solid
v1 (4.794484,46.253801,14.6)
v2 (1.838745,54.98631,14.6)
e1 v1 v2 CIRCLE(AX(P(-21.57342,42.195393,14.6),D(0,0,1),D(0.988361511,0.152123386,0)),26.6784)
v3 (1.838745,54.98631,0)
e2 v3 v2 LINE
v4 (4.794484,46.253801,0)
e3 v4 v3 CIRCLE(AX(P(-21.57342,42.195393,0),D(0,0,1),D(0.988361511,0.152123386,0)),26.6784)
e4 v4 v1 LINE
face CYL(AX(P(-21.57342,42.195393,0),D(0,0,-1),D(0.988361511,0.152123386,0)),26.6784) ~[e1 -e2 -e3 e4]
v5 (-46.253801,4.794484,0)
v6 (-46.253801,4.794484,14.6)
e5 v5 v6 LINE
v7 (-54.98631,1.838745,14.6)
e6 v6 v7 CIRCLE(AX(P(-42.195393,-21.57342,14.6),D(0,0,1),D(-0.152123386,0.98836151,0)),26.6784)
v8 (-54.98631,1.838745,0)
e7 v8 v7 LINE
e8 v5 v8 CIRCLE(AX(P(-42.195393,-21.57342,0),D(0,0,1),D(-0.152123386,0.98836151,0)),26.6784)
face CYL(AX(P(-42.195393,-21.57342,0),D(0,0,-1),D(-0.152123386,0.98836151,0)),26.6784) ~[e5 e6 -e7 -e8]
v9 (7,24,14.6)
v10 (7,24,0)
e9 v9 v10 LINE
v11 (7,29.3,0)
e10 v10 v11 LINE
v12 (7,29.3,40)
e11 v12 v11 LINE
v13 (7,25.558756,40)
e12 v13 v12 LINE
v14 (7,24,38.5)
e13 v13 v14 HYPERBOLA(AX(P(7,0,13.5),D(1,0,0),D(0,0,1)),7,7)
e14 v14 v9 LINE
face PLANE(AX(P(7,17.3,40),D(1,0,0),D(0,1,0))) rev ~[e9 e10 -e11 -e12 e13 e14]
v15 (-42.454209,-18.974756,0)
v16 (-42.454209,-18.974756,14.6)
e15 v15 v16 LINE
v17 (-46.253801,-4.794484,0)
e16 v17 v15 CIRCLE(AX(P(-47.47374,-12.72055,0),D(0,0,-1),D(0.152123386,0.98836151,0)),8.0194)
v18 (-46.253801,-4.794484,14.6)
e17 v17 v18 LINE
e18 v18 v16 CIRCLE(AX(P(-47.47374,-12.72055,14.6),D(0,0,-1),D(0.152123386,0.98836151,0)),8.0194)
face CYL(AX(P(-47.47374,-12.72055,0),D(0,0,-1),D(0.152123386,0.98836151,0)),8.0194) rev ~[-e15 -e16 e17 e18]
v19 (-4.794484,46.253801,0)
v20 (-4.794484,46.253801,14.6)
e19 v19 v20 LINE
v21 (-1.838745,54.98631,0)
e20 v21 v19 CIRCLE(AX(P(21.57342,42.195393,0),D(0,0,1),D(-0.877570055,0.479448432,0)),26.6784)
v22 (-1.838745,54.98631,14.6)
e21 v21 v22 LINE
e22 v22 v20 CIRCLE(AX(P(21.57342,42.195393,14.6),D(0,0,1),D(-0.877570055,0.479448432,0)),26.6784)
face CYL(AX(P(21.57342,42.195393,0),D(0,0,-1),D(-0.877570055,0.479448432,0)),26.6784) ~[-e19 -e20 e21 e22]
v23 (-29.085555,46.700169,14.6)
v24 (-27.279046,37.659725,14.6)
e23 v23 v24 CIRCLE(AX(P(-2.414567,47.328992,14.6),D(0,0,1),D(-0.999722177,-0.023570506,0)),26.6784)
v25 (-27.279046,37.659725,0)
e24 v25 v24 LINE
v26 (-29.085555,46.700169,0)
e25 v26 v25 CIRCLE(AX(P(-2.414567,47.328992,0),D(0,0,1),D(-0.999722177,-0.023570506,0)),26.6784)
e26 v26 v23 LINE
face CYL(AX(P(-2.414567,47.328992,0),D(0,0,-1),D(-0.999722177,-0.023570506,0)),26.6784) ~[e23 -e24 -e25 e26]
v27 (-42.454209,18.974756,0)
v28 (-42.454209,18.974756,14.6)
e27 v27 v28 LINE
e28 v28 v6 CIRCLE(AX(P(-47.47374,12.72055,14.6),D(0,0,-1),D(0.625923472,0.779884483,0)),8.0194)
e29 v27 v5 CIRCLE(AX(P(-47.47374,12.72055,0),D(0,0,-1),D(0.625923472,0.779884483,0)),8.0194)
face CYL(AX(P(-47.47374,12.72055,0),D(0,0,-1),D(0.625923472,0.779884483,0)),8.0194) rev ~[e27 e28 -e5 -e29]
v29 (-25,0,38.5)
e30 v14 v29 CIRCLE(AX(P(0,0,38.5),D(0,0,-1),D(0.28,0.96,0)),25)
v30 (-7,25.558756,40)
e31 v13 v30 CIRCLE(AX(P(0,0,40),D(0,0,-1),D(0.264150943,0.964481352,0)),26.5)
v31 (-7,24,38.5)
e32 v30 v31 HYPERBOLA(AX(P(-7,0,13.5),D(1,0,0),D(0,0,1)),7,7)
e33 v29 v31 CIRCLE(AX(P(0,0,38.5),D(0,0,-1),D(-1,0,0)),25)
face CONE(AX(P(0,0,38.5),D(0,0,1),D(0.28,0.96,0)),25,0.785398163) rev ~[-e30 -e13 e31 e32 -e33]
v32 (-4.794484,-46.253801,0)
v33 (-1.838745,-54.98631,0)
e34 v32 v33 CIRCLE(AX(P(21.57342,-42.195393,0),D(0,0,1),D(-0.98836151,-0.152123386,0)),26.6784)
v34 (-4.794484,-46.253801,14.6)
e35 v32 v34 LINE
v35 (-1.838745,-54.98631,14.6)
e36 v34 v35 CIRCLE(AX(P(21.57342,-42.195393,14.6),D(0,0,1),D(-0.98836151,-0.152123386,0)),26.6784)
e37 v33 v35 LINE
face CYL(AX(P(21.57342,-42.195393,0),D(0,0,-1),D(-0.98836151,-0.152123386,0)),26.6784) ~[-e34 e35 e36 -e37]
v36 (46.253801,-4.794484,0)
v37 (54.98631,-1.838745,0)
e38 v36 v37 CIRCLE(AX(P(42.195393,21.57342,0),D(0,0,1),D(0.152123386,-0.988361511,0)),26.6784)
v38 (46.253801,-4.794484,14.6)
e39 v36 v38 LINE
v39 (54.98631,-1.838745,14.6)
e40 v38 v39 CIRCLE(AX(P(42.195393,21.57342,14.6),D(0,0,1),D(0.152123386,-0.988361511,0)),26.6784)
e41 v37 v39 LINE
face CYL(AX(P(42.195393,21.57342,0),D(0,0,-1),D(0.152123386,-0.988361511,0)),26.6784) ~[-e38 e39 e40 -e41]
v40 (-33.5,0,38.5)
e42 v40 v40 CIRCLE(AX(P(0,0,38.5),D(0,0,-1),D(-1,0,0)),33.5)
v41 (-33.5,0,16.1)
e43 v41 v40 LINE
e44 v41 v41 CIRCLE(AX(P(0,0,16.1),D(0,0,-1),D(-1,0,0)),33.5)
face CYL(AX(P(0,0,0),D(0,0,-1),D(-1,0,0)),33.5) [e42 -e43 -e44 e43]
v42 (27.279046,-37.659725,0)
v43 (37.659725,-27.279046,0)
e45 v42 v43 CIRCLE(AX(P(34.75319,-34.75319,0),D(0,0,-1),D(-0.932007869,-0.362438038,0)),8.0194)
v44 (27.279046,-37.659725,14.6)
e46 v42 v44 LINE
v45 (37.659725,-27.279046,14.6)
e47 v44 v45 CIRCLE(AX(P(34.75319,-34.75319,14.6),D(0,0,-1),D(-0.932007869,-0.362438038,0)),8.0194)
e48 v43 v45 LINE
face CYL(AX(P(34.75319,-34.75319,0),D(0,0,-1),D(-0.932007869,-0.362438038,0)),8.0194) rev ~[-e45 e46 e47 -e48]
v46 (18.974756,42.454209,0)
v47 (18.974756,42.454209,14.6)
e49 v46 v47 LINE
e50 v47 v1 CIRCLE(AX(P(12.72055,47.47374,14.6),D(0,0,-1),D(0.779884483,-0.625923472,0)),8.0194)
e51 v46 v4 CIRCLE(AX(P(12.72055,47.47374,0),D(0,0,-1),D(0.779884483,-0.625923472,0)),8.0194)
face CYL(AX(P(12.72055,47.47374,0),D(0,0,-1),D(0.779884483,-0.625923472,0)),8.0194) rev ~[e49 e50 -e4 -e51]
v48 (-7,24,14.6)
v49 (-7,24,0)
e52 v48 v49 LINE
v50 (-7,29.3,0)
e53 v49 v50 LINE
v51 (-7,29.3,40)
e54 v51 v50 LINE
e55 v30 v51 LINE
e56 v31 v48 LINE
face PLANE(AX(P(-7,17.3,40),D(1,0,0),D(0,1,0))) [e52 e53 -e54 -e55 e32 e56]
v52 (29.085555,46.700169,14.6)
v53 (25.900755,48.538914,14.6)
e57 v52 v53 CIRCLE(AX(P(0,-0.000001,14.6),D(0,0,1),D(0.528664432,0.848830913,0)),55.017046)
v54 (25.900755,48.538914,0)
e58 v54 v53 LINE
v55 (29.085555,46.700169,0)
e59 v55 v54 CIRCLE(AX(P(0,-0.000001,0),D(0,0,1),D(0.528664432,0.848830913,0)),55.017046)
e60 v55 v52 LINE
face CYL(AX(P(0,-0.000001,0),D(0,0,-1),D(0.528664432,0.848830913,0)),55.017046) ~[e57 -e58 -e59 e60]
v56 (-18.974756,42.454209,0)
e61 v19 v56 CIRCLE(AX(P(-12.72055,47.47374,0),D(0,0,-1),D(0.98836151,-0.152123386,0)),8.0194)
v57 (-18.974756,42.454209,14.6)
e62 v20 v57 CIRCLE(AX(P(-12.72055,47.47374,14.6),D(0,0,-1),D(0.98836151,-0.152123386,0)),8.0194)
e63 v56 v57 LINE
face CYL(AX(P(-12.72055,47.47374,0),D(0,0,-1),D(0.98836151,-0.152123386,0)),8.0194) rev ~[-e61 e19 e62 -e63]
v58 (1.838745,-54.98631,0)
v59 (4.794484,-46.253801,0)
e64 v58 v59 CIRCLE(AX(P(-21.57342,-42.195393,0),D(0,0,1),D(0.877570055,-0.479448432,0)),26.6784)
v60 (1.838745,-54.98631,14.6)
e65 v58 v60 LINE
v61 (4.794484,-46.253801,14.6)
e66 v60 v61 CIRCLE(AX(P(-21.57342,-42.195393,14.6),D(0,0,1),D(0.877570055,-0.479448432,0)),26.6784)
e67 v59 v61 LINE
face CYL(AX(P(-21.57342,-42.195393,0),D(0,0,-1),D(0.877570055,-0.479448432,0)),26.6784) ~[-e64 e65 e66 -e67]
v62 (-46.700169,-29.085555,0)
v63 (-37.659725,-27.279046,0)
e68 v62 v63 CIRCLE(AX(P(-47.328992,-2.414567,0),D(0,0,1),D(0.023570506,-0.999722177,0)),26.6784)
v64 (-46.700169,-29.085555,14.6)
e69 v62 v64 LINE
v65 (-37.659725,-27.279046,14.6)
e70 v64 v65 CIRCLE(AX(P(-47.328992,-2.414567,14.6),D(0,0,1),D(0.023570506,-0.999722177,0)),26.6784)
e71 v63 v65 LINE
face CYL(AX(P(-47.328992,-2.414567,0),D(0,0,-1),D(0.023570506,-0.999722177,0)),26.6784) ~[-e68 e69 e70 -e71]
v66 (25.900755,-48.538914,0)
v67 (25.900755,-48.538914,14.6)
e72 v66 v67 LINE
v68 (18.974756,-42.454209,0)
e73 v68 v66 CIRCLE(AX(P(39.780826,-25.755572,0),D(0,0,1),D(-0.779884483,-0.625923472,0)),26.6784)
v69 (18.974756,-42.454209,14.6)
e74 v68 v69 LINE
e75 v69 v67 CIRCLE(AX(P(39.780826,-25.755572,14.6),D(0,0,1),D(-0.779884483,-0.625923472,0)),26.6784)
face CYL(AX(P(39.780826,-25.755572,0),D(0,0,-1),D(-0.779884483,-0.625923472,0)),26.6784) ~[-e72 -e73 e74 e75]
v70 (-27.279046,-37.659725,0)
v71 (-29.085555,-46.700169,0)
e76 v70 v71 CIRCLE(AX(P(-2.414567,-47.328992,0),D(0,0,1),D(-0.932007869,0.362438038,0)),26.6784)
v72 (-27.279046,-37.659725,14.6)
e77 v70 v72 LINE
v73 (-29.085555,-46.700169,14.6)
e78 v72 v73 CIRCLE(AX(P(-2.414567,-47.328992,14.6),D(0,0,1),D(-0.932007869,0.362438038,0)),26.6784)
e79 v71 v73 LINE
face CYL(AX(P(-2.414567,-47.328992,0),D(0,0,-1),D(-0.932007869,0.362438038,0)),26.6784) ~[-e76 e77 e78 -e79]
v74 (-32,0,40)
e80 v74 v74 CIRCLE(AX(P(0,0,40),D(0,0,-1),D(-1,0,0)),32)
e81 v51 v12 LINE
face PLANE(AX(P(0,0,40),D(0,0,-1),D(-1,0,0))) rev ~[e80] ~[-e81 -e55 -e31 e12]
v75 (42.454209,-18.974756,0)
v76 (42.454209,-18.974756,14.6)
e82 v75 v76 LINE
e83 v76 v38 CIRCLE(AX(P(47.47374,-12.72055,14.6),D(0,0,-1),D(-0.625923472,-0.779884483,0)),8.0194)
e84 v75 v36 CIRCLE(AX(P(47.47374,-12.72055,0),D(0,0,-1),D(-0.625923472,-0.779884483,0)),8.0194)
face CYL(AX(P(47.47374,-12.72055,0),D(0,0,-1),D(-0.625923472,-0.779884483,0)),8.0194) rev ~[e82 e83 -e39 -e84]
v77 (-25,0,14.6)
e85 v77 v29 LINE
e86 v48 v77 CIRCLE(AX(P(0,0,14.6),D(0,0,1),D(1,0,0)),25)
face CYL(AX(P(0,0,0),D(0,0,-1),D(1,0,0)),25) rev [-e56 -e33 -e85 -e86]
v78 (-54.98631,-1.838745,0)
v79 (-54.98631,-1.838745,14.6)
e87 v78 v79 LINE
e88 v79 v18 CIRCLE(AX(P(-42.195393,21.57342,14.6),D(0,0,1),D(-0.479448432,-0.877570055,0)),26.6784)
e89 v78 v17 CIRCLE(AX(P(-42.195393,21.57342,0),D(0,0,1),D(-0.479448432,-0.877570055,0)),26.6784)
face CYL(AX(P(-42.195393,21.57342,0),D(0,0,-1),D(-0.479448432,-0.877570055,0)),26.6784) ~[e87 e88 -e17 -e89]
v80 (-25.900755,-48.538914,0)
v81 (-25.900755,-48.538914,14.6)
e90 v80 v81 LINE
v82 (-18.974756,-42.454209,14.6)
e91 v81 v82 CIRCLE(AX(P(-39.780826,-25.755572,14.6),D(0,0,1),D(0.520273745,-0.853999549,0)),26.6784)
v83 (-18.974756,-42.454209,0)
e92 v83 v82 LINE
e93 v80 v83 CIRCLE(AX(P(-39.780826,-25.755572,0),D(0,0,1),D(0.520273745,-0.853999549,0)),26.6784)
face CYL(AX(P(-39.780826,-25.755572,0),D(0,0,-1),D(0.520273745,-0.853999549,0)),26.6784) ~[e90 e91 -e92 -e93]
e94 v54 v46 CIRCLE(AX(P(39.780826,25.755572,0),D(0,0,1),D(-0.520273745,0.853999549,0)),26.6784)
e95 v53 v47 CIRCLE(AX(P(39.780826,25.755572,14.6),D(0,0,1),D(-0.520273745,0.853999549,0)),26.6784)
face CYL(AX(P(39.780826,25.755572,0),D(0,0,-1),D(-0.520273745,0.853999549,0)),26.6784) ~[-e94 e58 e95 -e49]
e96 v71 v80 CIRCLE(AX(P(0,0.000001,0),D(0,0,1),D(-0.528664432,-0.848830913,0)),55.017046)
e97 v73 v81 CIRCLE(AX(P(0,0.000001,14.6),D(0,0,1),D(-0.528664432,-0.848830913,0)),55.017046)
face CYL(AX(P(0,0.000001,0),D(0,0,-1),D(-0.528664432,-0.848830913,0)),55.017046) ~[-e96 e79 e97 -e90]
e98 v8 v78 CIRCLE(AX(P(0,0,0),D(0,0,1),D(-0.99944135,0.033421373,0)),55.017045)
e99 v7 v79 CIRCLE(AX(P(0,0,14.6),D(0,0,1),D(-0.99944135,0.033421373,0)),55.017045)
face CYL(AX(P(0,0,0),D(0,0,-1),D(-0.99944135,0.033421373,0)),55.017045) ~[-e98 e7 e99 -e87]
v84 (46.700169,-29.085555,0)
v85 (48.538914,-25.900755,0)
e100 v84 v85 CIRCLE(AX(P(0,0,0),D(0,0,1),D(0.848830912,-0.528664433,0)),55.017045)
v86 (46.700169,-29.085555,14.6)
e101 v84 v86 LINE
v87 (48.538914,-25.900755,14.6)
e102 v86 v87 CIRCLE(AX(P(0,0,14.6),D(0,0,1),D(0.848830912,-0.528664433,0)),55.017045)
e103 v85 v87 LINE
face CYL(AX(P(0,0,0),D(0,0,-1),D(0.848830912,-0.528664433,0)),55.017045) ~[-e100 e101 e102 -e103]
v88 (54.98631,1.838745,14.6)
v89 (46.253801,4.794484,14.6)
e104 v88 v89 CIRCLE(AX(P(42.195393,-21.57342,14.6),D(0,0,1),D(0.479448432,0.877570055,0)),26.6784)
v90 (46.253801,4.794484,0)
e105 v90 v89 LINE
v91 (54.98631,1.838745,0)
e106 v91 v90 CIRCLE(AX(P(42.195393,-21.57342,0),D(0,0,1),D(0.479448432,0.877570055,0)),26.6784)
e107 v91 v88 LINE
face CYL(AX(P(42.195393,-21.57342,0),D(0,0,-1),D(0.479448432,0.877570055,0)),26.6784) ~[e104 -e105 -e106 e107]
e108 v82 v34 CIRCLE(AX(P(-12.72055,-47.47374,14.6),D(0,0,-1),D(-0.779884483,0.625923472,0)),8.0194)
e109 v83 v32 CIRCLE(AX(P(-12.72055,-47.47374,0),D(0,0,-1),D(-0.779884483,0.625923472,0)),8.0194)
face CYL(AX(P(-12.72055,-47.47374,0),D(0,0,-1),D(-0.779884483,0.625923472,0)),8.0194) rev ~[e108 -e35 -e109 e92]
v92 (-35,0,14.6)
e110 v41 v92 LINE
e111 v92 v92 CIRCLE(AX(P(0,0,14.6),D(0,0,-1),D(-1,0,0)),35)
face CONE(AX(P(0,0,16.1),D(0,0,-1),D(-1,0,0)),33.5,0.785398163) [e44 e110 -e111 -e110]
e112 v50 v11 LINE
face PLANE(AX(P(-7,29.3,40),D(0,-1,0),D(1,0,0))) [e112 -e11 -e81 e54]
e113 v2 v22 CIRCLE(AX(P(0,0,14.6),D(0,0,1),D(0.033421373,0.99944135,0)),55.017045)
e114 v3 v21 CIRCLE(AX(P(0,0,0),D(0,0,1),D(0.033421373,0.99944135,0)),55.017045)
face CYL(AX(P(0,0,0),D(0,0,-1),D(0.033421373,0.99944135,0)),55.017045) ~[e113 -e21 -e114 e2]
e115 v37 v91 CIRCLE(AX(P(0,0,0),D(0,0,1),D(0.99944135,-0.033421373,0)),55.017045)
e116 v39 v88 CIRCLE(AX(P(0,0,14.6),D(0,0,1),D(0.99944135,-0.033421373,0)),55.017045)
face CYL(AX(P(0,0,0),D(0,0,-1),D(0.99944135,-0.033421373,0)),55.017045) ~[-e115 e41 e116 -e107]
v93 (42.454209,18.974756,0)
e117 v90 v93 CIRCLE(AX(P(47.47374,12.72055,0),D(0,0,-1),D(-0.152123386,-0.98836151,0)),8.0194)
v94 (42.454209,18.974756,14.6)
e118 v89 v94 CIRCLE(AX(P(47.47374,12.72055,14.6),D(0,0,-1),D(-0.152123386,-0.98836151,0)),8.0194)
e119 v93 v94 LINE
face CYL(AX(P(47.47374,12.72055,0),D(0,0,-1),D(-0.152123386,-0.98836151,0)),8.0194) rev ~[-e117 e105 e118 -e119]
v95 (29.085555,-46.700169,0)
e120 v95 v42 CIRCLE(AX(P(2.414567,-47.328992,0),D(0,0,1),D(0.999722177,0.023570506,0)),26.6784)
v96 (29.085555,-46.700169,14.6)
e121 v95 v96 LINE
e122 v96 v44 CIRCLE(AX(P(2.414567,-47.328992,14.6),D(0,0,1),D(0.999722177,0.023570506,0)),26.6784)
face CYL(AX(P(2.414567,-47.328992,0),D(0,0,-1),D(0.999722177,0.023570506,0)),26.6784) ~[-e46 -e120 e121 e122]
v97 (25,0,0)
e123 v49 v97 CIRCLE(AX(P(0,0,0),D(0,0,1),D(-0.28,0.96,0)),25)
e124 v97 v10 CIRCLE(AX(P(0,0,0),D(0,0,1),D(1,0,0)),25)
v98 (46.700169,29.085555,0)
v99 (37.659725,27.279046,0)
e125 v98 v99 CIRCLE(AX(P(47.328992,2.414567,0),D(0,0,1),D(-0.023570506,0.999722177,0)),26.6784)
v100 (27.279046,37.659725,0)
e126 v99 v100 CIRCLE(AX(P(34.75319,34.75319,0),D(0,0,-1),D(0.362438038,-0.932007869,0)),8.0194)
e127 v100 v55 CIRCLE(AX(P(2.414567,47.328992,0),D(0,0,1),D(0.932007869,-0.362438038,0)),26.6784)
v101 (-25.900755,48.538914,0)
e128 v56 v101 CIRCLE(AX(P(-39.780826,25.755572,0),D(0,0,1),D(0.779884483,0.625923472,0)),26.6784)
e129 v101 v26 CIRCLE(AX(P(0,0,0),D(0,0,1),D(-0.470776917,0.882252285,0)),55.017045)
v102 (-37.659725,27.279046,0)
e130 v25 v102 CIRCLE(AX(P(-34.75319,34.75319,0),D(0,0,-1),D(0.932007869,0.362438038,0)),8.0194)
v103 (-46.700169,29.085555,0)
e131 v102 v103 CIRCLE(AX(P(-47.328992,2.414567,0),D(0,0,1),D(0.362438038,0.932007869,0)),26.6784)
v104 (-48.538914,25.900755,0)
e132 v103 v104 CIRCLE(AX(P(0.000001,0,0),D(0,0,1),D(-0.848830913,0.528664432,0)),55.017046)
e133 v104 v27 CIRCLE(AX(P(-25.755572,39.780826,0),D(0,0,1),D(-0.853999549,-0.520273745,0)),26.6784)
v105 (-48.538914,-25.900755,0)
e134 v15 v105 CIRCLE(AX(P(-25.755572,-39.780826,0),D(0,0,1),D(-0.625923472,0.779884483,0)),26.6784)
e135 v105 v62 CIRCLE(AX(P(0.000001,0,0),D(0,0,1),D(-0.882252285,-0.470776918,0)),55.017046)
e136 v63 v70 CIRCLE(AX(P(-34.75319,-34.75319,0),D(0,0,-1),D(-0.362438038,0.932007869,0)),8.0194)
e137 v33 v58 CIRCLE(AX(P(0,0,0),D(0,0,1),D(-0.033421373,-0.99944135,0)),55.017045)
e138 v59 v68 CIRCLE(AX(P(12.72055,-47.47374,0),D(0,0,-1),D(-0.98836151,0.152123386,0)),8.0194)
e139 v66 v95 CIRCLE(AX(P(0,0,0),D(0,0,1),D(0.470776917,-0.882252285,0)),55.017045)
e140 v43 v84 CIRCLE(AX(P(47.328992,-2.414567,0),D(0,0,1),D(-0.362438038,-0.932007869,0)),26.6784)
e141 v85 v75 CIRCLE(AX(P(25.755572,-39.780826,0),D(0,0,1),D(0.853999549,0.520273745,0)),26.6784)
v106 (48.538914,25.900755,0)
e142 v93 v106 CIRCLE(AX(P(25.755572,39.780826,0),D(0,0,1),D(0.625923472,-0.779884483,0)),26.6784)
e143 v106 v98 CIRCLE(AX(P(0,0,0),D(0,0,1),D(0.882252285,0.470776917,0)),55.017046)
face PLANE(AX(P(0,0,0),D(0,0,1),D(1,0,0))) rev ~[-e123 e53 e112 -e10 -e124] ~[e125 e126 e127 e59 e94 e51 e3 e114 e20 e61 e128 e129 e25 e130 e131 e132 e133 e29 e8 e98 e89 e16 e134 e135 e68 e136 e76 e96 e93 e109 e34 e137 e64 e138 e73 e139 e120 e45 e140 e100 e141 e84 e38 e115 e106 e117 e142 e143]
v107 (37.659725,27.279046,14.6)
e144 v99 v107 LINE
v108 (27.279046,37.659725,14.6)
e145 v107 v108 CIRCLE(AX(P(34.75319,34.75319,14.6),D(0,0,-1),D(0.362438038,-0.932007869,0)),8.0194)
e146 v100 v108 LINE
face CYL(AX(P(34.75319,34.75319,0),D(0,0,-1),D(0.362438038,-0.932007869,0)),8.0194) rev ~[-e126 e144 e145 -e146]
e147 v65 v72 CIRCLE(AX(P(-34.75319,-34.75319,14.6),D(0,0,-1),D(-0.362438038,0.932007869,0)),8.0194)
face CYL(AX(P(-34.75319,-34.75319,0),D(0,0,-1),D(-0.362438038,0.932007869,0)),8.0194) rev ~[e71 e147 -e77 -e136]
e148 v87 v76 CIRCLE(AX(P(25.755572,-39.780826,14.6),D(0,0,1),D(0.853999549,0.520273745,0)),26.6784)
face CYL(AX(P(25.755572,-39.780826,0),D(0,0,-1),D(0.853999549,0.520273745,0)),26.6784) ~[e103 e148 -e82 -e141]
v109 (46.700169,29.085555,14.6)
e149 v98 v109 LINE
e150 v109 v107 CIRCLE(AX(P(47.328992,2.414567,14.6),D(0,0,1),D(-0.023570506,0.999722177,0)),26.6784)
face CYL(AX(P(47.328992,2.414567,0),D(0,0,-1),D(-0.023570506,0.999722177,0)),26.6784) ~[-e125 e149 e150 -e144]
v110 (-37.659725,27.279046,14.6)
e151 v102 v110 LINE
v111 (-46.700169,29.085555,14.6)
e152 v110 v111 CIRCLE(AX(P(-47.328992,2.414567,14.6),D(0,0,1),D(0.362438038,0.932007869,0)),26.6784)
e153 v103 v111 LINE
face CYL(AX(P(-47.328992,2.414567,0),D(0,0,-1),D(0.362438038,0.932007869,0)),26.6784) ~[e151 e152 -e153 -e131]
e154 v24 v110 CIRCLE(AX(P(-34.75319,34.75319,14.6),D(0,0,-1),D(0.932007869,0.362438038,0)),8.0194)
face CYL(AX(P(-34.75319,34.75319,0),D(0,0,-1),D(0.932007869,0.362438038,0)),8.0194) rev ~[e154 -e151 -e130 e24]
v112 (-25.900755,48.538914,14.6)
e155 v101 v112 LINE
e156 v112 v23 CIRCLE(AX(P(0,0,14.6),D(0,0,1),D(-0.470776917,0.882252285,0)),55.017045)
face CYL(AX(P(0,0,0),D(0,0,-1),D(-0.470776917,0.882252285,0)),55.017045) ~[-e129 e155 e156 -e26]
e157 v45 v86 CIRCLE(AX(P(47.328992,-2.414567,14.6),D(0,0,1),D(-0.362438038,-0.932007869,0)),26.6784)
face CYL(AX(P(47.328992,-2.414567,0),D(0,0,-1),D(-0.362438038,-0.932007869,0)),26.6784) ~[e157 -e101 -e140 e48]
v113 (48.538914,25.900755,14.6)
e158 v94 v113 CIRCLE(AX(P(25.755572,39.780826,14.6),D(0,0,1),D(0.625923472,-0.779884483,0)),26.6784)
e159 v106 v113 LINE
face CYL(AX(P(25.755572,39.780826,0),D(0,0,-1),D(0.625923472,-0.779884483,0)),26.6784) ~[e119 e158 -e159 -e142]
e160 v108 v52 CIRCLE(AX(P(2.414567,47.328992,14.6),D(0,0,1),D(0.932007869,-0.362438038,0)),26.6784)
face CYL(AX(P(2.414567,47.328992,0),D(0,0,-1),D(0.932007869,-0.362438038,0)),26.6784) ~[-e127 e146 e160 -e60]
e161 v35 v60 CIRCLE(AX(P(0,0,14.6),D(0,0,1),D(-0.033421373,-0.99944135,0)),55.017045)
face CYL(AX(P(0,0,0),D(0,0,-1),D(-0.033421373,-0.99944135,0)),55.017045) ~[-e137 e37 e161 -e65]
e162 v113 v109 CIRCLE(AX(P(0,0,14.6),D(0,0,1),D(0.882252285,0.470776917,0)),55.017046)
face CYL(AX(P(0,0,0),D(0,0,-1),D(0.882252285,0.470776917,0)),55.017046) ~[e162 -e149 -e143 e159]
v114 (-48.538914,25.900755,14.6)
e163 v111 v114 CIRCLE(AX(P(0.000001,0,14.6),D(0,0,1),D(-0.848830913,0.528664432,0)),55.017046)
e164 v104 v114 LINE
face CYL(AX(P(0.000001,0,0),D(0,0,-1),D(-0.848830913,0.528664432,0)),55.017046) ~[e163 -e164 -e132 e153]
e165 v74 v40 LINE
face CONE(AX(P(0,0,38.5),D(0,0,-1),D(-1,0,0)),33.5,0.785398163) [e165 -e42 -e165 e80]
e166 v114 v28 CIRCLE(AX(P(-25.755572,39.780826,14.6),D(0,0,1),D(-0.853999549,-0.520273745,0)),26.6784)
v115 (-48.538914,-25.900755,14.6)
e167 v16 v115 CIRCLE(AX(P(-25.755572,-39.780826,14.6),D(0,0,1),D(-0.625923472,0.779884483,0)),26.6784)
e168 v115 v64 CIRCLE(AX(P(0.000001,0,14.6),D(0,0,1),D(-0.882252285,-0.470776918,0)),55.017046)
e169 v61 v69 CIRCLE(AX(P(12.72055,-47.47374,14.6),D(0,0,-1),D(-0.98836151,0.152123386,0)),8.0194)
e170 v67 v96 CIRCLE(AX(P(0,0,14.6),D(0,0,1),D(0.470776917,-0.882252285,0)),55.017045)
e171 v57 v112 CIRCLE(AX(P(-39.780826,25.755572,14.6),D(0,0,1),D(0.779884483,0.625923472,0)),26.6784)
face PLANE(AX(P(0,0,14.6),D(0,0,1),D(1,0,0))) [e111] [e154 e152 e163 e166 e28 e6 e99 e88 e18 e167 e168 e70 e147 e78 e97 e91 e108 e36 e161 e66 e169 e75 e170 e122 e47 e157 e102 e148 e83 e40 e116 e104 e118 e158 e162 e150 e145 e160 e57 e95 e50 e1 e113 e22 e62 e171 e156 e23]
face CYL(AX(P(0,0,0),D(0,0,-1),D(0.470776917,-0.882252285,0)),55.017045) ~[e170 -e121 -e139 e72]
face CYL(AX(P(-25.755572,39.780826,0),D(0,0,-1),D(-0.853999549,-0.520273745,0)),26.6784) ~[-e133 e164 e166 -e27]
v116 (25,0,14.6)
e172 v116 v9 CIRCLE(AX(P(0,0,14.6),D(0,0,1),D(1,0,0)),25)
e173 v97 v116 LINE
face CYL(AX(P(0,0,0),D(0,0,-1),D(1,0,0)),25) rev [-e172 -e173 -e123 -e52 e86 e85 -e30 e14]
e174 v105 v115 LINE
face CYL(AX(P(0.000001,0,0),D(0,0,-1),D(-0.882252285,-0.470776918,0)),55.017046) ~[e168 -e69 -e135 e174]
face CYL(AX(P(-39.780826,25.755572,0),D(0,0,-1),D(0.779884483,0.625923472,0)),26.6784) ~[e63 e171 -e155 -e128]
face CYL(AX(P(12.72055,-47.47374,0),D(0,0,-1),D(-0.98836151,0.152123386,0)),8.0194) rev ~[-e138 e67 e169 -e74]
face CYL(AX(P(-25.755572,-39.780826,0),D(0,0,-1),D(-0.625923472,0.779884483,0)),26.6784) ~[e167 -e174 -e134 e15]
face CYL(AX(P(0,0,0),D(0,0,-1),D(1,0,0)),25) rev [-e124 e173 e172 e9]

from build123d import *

# Parameters (mm, degrees)
SKETCH2_R           = 25
BOSS_EXTRUDE1_DEPTH = 14.6
SKETCH3_R           = 33.5
SKETCH3_R_2         = 25
BOSS_EXTRUDE2_DEPTH = 40
SKETCH6_W           = 14
SKETCH6_H           = 12
CUT_EXTRUDE1_DEPTH  = 64
CHAMFER1_SIZE       = 1.5


with BuildPart() as part:
    # Sketch2 → Boss-Extrude1 (new body)
    with BuildSketch(Plane.XY):
        with BuildLine():
            ThreePointArc((-18.974755856, 42.454209074), (-22.172929883, 45.798002784), (-25.900754962, 48.538913885))
            ThreePointArc((-25.900754962, 48.538913885), (-27.508522628, 47.646158833), (-29.085555016, 46.700168716))
            ThreePointArc((-29.085555016, 46.700168716), (-28.575768912, 42.101321947), (-27.279045628, 37.659725139))
            ThreePointArc((-27.279045628, 37.659725139), (-29.082617414, 29.082617413), (-37.659725139, 27.279045628))
            ThreePointArc((-37.659725139, 27.279045628), (-42.101321947, 28.575768912), (-46.700168717, 29.085555016))
            ThreePointArc((-46.700168717, 29.085555016), (-47.646158833, 27.508522628), (-48.538913885, 25.900754962))
            ThreePointArc((-48.538913885, 25.900754962), (-45.798002784, 22.172929883), (-42.454209074, 18.974755856))
            ThreePointArc((-42.454209074, 18.974755856), (-39.727594195, 10.644976782), (-46.253801484, 4.794483935))
            ThreePointArc((-46.253801484, 4.794483935), (-50.748698795, 3.696680837), (-54.986309977, 1.838745168))
            ThreePointArc((-54.986309977, 1.838745168), (-55.017045256, 0), (-54.986309977, -1.838745169))
            ThreePointArc((-54.986309977, -1.838745169), (-50.748698795, -3.696680837), (-46.253801484, -4.794483935))
            ThreePointArc((-46.253801484, -4.794483935), (-39.727594195, -10.644976782), (-42.454209074, -18.974755856))
            ThreePointArc((-42.454209074, -18.974755856), (-45.798002784, -22.172929883), (-48.538913885, -25.900754962))
            ThreePointArc((-48.538913885, -25.900754962), (-47.646158833, -27.508522628), (-46.700168717, -29.085555016))
            ThreePointArc((-46.700168717, -29.085555016), (-42.101321947, -28.575768912), (-37.659725139, -27.279045628))
            ThreePointArc((-37.659725139, -27.279045628), (-29.082617413, -29.082617414), (-27.279045628, -37.659725139))
            ThreePointArc((-27.279045628, -37.659725139), (-28.575768912, -42.101321947), (-29.085555016, -46.700168717))
            ThreePointArc((-29.085555016, -46.700168717), (-27.508522628, -47.646158833), (-25.900754962, -48.538913885))
            ThreePointArc((-25.900754962, -48.538913885), (-22.172929883, -45.798002784), (-18.974755856, -42.454209074))
            ThreePointArc((-18.974755856, -42.454209074), (-10.644976782, -39.727594195), (-4.794483935, -46.253801484))
            ThreePointArc((-4.794483935, -46.253801484), (-3.696680837, -50.748698795), (-1.838745168, -54.986309977))
            ThreePointArc((-1.838745168, -54.986309977), (0, -55.017045256), (1.838745168, -54.986309977))
            ThreePointArc((1.838745168, -54.986309977), (3.696680837, -50.748698795), (4.794483935, -46.253801484))
            ThreePointArc((4.794483935, -46.253801484), (10.644976782, -39.727594195), (18.974755856, -42.454209074))
            ThreePointArc((18.974755856, -42.454209074), (22.172929883, -45.798002784), (25.900754962, -48.538913885))
            ThreePointArc((25.900754962, -48.538913885), (27.508522628, -47.646158833), (29.085555016, -46.700168716))
            ThreePointArc((29.085555016, -46.700168716), (28.575768912, -42.101321947), (27.279045628, -37.659725139))
            ThreePointArc((27.279045628, -37.659725139), (29.082617413, -29.082617414), (37.659725139, -27.279045628))
            ThreePointArc((37.659725139, -27.279045628), (42.101321947, -28.575768912), (46.700168716, -29.085555016))
            ThreePointArc((46.700168716, -29.085555016), (47.646158833, -27.508522628), (48.538913885, -25.900754962))
            ThreePointArc((48.538913885, -25.900754962), (45.798002784, -22.172929883), (42.454209074, -18.974755856))
            ThreePointArc((42.454209074, -18.974755856), (39.727594195, -10.644976782), (46.253801483, -4.794483935))
            ThreePointArc((46.253801483, -4.794483935), (50.748698795, -3.696680837), (54.986309977, -1.838745168))
            ThreePointArc((54.986309977, -1.838745168), (55.017045256, 0), (54.986309977, 1.838745169))
            ThreePointArc((54.986309977, 1.838745169), (50.748698795, 3.696680837), (46.253801484, 4.794483935))
            ThreePointArc((46.253801484, 4.794483935), (39.727594195, 10.644976782), (42.454209074, 18.974755856))
            ThreePointArc((42.454209074, 18.974755856), (45.798002784, 22.172929883), (48.538913885, 25.900754962))
            ThreePointArc((48.538913885, 25.900754962), (47.646158833, 27.508522628), (46.700168717, 29.085555015))
            ThreePointArc((46.700168717, 29.085555015), (42.101321947, 28.575768912), (37.659725139, 27.279045628))
            ThreePointArc((37.659725139, 27.279045628), (29.082617413, 29.082617413), (27.279045628, 37.659725139))
            ThreePointArc((27.279045628, 37.659725139), (28.575768912, 42.101321947), (29.085555016, 46.700168717))
            ThreePointArc((29.085555016, 46.700168717), (27.508522628, 47.646158833), (25.900754962, 48.538913885))
            ThreePointArc((25.900754962, 48.538913885), (22.172929883, 45.798002784), (18.974755856, 42.454209074))
            ThreePointArc((18.974755856, 42.454209074), (10.644976782, 39.727594195), (4.794483935, 46.253801483))
            ThreePointArc((4.794483935, 46.253801483), (3.696680837, 50.748698795), (1.838745168, 54.986309977))
            ThreePointArc((1.838745168, 54.986309977), (0, 55.017045256), (-1.838745168, 54.986309977))
            ThreePointArc((-1.838745168, 54.986309977), (-3.696680837, 50.748698795), (-4.794483935, 46.253801483))
            ThreePointArc((-4.794483935, 46.253801483), (-10.644976782, 39.727594195), (-18.974755856, 42.454209074))
        make_face()
        Circle(SKETCH2_R, mode=Mode.SUBTRACT)
    extrude(amount=BOSS_EXTRUDE1_DEPTH)

    # Sketch3 → Boss-Extrude2 (add)
    with BuildSketch(Plane(origin=(0, 0, 0), x_dir=(-1, 0, 0), z_dir=(0, 0, -1))):
        Circle(SKETCH3_R)
        Circle(SKETCH3_R_2, mode=Mode.SUBTRACT)
    extrude(amount=-BOSS_EXTRUDE2_DEPTH)

    # Sketch6 → Cut-Extrude1 (cut)
    with BuildSketch(Plane.XY.offset(40)):
        with Locations((0, 23.3)):
            Rectangle(SKETCH6_W, SKETCH6_H)
    extrude(amount=-CUT_EXTRUDE1_DEPTH, mode=Mode.SUBTRACT)

    # Chamfer1
    chamfer1_edges = [part.edges().sort_by_distance(p)[0] for p in [
        (33.5, 0, 14.6),
        (33.5, 0, 40),
        (15, -20, 40),
    ]]
    chamfer(chamfer1_edges, length=CHAMFER1_SIZE)


solid = part.part
